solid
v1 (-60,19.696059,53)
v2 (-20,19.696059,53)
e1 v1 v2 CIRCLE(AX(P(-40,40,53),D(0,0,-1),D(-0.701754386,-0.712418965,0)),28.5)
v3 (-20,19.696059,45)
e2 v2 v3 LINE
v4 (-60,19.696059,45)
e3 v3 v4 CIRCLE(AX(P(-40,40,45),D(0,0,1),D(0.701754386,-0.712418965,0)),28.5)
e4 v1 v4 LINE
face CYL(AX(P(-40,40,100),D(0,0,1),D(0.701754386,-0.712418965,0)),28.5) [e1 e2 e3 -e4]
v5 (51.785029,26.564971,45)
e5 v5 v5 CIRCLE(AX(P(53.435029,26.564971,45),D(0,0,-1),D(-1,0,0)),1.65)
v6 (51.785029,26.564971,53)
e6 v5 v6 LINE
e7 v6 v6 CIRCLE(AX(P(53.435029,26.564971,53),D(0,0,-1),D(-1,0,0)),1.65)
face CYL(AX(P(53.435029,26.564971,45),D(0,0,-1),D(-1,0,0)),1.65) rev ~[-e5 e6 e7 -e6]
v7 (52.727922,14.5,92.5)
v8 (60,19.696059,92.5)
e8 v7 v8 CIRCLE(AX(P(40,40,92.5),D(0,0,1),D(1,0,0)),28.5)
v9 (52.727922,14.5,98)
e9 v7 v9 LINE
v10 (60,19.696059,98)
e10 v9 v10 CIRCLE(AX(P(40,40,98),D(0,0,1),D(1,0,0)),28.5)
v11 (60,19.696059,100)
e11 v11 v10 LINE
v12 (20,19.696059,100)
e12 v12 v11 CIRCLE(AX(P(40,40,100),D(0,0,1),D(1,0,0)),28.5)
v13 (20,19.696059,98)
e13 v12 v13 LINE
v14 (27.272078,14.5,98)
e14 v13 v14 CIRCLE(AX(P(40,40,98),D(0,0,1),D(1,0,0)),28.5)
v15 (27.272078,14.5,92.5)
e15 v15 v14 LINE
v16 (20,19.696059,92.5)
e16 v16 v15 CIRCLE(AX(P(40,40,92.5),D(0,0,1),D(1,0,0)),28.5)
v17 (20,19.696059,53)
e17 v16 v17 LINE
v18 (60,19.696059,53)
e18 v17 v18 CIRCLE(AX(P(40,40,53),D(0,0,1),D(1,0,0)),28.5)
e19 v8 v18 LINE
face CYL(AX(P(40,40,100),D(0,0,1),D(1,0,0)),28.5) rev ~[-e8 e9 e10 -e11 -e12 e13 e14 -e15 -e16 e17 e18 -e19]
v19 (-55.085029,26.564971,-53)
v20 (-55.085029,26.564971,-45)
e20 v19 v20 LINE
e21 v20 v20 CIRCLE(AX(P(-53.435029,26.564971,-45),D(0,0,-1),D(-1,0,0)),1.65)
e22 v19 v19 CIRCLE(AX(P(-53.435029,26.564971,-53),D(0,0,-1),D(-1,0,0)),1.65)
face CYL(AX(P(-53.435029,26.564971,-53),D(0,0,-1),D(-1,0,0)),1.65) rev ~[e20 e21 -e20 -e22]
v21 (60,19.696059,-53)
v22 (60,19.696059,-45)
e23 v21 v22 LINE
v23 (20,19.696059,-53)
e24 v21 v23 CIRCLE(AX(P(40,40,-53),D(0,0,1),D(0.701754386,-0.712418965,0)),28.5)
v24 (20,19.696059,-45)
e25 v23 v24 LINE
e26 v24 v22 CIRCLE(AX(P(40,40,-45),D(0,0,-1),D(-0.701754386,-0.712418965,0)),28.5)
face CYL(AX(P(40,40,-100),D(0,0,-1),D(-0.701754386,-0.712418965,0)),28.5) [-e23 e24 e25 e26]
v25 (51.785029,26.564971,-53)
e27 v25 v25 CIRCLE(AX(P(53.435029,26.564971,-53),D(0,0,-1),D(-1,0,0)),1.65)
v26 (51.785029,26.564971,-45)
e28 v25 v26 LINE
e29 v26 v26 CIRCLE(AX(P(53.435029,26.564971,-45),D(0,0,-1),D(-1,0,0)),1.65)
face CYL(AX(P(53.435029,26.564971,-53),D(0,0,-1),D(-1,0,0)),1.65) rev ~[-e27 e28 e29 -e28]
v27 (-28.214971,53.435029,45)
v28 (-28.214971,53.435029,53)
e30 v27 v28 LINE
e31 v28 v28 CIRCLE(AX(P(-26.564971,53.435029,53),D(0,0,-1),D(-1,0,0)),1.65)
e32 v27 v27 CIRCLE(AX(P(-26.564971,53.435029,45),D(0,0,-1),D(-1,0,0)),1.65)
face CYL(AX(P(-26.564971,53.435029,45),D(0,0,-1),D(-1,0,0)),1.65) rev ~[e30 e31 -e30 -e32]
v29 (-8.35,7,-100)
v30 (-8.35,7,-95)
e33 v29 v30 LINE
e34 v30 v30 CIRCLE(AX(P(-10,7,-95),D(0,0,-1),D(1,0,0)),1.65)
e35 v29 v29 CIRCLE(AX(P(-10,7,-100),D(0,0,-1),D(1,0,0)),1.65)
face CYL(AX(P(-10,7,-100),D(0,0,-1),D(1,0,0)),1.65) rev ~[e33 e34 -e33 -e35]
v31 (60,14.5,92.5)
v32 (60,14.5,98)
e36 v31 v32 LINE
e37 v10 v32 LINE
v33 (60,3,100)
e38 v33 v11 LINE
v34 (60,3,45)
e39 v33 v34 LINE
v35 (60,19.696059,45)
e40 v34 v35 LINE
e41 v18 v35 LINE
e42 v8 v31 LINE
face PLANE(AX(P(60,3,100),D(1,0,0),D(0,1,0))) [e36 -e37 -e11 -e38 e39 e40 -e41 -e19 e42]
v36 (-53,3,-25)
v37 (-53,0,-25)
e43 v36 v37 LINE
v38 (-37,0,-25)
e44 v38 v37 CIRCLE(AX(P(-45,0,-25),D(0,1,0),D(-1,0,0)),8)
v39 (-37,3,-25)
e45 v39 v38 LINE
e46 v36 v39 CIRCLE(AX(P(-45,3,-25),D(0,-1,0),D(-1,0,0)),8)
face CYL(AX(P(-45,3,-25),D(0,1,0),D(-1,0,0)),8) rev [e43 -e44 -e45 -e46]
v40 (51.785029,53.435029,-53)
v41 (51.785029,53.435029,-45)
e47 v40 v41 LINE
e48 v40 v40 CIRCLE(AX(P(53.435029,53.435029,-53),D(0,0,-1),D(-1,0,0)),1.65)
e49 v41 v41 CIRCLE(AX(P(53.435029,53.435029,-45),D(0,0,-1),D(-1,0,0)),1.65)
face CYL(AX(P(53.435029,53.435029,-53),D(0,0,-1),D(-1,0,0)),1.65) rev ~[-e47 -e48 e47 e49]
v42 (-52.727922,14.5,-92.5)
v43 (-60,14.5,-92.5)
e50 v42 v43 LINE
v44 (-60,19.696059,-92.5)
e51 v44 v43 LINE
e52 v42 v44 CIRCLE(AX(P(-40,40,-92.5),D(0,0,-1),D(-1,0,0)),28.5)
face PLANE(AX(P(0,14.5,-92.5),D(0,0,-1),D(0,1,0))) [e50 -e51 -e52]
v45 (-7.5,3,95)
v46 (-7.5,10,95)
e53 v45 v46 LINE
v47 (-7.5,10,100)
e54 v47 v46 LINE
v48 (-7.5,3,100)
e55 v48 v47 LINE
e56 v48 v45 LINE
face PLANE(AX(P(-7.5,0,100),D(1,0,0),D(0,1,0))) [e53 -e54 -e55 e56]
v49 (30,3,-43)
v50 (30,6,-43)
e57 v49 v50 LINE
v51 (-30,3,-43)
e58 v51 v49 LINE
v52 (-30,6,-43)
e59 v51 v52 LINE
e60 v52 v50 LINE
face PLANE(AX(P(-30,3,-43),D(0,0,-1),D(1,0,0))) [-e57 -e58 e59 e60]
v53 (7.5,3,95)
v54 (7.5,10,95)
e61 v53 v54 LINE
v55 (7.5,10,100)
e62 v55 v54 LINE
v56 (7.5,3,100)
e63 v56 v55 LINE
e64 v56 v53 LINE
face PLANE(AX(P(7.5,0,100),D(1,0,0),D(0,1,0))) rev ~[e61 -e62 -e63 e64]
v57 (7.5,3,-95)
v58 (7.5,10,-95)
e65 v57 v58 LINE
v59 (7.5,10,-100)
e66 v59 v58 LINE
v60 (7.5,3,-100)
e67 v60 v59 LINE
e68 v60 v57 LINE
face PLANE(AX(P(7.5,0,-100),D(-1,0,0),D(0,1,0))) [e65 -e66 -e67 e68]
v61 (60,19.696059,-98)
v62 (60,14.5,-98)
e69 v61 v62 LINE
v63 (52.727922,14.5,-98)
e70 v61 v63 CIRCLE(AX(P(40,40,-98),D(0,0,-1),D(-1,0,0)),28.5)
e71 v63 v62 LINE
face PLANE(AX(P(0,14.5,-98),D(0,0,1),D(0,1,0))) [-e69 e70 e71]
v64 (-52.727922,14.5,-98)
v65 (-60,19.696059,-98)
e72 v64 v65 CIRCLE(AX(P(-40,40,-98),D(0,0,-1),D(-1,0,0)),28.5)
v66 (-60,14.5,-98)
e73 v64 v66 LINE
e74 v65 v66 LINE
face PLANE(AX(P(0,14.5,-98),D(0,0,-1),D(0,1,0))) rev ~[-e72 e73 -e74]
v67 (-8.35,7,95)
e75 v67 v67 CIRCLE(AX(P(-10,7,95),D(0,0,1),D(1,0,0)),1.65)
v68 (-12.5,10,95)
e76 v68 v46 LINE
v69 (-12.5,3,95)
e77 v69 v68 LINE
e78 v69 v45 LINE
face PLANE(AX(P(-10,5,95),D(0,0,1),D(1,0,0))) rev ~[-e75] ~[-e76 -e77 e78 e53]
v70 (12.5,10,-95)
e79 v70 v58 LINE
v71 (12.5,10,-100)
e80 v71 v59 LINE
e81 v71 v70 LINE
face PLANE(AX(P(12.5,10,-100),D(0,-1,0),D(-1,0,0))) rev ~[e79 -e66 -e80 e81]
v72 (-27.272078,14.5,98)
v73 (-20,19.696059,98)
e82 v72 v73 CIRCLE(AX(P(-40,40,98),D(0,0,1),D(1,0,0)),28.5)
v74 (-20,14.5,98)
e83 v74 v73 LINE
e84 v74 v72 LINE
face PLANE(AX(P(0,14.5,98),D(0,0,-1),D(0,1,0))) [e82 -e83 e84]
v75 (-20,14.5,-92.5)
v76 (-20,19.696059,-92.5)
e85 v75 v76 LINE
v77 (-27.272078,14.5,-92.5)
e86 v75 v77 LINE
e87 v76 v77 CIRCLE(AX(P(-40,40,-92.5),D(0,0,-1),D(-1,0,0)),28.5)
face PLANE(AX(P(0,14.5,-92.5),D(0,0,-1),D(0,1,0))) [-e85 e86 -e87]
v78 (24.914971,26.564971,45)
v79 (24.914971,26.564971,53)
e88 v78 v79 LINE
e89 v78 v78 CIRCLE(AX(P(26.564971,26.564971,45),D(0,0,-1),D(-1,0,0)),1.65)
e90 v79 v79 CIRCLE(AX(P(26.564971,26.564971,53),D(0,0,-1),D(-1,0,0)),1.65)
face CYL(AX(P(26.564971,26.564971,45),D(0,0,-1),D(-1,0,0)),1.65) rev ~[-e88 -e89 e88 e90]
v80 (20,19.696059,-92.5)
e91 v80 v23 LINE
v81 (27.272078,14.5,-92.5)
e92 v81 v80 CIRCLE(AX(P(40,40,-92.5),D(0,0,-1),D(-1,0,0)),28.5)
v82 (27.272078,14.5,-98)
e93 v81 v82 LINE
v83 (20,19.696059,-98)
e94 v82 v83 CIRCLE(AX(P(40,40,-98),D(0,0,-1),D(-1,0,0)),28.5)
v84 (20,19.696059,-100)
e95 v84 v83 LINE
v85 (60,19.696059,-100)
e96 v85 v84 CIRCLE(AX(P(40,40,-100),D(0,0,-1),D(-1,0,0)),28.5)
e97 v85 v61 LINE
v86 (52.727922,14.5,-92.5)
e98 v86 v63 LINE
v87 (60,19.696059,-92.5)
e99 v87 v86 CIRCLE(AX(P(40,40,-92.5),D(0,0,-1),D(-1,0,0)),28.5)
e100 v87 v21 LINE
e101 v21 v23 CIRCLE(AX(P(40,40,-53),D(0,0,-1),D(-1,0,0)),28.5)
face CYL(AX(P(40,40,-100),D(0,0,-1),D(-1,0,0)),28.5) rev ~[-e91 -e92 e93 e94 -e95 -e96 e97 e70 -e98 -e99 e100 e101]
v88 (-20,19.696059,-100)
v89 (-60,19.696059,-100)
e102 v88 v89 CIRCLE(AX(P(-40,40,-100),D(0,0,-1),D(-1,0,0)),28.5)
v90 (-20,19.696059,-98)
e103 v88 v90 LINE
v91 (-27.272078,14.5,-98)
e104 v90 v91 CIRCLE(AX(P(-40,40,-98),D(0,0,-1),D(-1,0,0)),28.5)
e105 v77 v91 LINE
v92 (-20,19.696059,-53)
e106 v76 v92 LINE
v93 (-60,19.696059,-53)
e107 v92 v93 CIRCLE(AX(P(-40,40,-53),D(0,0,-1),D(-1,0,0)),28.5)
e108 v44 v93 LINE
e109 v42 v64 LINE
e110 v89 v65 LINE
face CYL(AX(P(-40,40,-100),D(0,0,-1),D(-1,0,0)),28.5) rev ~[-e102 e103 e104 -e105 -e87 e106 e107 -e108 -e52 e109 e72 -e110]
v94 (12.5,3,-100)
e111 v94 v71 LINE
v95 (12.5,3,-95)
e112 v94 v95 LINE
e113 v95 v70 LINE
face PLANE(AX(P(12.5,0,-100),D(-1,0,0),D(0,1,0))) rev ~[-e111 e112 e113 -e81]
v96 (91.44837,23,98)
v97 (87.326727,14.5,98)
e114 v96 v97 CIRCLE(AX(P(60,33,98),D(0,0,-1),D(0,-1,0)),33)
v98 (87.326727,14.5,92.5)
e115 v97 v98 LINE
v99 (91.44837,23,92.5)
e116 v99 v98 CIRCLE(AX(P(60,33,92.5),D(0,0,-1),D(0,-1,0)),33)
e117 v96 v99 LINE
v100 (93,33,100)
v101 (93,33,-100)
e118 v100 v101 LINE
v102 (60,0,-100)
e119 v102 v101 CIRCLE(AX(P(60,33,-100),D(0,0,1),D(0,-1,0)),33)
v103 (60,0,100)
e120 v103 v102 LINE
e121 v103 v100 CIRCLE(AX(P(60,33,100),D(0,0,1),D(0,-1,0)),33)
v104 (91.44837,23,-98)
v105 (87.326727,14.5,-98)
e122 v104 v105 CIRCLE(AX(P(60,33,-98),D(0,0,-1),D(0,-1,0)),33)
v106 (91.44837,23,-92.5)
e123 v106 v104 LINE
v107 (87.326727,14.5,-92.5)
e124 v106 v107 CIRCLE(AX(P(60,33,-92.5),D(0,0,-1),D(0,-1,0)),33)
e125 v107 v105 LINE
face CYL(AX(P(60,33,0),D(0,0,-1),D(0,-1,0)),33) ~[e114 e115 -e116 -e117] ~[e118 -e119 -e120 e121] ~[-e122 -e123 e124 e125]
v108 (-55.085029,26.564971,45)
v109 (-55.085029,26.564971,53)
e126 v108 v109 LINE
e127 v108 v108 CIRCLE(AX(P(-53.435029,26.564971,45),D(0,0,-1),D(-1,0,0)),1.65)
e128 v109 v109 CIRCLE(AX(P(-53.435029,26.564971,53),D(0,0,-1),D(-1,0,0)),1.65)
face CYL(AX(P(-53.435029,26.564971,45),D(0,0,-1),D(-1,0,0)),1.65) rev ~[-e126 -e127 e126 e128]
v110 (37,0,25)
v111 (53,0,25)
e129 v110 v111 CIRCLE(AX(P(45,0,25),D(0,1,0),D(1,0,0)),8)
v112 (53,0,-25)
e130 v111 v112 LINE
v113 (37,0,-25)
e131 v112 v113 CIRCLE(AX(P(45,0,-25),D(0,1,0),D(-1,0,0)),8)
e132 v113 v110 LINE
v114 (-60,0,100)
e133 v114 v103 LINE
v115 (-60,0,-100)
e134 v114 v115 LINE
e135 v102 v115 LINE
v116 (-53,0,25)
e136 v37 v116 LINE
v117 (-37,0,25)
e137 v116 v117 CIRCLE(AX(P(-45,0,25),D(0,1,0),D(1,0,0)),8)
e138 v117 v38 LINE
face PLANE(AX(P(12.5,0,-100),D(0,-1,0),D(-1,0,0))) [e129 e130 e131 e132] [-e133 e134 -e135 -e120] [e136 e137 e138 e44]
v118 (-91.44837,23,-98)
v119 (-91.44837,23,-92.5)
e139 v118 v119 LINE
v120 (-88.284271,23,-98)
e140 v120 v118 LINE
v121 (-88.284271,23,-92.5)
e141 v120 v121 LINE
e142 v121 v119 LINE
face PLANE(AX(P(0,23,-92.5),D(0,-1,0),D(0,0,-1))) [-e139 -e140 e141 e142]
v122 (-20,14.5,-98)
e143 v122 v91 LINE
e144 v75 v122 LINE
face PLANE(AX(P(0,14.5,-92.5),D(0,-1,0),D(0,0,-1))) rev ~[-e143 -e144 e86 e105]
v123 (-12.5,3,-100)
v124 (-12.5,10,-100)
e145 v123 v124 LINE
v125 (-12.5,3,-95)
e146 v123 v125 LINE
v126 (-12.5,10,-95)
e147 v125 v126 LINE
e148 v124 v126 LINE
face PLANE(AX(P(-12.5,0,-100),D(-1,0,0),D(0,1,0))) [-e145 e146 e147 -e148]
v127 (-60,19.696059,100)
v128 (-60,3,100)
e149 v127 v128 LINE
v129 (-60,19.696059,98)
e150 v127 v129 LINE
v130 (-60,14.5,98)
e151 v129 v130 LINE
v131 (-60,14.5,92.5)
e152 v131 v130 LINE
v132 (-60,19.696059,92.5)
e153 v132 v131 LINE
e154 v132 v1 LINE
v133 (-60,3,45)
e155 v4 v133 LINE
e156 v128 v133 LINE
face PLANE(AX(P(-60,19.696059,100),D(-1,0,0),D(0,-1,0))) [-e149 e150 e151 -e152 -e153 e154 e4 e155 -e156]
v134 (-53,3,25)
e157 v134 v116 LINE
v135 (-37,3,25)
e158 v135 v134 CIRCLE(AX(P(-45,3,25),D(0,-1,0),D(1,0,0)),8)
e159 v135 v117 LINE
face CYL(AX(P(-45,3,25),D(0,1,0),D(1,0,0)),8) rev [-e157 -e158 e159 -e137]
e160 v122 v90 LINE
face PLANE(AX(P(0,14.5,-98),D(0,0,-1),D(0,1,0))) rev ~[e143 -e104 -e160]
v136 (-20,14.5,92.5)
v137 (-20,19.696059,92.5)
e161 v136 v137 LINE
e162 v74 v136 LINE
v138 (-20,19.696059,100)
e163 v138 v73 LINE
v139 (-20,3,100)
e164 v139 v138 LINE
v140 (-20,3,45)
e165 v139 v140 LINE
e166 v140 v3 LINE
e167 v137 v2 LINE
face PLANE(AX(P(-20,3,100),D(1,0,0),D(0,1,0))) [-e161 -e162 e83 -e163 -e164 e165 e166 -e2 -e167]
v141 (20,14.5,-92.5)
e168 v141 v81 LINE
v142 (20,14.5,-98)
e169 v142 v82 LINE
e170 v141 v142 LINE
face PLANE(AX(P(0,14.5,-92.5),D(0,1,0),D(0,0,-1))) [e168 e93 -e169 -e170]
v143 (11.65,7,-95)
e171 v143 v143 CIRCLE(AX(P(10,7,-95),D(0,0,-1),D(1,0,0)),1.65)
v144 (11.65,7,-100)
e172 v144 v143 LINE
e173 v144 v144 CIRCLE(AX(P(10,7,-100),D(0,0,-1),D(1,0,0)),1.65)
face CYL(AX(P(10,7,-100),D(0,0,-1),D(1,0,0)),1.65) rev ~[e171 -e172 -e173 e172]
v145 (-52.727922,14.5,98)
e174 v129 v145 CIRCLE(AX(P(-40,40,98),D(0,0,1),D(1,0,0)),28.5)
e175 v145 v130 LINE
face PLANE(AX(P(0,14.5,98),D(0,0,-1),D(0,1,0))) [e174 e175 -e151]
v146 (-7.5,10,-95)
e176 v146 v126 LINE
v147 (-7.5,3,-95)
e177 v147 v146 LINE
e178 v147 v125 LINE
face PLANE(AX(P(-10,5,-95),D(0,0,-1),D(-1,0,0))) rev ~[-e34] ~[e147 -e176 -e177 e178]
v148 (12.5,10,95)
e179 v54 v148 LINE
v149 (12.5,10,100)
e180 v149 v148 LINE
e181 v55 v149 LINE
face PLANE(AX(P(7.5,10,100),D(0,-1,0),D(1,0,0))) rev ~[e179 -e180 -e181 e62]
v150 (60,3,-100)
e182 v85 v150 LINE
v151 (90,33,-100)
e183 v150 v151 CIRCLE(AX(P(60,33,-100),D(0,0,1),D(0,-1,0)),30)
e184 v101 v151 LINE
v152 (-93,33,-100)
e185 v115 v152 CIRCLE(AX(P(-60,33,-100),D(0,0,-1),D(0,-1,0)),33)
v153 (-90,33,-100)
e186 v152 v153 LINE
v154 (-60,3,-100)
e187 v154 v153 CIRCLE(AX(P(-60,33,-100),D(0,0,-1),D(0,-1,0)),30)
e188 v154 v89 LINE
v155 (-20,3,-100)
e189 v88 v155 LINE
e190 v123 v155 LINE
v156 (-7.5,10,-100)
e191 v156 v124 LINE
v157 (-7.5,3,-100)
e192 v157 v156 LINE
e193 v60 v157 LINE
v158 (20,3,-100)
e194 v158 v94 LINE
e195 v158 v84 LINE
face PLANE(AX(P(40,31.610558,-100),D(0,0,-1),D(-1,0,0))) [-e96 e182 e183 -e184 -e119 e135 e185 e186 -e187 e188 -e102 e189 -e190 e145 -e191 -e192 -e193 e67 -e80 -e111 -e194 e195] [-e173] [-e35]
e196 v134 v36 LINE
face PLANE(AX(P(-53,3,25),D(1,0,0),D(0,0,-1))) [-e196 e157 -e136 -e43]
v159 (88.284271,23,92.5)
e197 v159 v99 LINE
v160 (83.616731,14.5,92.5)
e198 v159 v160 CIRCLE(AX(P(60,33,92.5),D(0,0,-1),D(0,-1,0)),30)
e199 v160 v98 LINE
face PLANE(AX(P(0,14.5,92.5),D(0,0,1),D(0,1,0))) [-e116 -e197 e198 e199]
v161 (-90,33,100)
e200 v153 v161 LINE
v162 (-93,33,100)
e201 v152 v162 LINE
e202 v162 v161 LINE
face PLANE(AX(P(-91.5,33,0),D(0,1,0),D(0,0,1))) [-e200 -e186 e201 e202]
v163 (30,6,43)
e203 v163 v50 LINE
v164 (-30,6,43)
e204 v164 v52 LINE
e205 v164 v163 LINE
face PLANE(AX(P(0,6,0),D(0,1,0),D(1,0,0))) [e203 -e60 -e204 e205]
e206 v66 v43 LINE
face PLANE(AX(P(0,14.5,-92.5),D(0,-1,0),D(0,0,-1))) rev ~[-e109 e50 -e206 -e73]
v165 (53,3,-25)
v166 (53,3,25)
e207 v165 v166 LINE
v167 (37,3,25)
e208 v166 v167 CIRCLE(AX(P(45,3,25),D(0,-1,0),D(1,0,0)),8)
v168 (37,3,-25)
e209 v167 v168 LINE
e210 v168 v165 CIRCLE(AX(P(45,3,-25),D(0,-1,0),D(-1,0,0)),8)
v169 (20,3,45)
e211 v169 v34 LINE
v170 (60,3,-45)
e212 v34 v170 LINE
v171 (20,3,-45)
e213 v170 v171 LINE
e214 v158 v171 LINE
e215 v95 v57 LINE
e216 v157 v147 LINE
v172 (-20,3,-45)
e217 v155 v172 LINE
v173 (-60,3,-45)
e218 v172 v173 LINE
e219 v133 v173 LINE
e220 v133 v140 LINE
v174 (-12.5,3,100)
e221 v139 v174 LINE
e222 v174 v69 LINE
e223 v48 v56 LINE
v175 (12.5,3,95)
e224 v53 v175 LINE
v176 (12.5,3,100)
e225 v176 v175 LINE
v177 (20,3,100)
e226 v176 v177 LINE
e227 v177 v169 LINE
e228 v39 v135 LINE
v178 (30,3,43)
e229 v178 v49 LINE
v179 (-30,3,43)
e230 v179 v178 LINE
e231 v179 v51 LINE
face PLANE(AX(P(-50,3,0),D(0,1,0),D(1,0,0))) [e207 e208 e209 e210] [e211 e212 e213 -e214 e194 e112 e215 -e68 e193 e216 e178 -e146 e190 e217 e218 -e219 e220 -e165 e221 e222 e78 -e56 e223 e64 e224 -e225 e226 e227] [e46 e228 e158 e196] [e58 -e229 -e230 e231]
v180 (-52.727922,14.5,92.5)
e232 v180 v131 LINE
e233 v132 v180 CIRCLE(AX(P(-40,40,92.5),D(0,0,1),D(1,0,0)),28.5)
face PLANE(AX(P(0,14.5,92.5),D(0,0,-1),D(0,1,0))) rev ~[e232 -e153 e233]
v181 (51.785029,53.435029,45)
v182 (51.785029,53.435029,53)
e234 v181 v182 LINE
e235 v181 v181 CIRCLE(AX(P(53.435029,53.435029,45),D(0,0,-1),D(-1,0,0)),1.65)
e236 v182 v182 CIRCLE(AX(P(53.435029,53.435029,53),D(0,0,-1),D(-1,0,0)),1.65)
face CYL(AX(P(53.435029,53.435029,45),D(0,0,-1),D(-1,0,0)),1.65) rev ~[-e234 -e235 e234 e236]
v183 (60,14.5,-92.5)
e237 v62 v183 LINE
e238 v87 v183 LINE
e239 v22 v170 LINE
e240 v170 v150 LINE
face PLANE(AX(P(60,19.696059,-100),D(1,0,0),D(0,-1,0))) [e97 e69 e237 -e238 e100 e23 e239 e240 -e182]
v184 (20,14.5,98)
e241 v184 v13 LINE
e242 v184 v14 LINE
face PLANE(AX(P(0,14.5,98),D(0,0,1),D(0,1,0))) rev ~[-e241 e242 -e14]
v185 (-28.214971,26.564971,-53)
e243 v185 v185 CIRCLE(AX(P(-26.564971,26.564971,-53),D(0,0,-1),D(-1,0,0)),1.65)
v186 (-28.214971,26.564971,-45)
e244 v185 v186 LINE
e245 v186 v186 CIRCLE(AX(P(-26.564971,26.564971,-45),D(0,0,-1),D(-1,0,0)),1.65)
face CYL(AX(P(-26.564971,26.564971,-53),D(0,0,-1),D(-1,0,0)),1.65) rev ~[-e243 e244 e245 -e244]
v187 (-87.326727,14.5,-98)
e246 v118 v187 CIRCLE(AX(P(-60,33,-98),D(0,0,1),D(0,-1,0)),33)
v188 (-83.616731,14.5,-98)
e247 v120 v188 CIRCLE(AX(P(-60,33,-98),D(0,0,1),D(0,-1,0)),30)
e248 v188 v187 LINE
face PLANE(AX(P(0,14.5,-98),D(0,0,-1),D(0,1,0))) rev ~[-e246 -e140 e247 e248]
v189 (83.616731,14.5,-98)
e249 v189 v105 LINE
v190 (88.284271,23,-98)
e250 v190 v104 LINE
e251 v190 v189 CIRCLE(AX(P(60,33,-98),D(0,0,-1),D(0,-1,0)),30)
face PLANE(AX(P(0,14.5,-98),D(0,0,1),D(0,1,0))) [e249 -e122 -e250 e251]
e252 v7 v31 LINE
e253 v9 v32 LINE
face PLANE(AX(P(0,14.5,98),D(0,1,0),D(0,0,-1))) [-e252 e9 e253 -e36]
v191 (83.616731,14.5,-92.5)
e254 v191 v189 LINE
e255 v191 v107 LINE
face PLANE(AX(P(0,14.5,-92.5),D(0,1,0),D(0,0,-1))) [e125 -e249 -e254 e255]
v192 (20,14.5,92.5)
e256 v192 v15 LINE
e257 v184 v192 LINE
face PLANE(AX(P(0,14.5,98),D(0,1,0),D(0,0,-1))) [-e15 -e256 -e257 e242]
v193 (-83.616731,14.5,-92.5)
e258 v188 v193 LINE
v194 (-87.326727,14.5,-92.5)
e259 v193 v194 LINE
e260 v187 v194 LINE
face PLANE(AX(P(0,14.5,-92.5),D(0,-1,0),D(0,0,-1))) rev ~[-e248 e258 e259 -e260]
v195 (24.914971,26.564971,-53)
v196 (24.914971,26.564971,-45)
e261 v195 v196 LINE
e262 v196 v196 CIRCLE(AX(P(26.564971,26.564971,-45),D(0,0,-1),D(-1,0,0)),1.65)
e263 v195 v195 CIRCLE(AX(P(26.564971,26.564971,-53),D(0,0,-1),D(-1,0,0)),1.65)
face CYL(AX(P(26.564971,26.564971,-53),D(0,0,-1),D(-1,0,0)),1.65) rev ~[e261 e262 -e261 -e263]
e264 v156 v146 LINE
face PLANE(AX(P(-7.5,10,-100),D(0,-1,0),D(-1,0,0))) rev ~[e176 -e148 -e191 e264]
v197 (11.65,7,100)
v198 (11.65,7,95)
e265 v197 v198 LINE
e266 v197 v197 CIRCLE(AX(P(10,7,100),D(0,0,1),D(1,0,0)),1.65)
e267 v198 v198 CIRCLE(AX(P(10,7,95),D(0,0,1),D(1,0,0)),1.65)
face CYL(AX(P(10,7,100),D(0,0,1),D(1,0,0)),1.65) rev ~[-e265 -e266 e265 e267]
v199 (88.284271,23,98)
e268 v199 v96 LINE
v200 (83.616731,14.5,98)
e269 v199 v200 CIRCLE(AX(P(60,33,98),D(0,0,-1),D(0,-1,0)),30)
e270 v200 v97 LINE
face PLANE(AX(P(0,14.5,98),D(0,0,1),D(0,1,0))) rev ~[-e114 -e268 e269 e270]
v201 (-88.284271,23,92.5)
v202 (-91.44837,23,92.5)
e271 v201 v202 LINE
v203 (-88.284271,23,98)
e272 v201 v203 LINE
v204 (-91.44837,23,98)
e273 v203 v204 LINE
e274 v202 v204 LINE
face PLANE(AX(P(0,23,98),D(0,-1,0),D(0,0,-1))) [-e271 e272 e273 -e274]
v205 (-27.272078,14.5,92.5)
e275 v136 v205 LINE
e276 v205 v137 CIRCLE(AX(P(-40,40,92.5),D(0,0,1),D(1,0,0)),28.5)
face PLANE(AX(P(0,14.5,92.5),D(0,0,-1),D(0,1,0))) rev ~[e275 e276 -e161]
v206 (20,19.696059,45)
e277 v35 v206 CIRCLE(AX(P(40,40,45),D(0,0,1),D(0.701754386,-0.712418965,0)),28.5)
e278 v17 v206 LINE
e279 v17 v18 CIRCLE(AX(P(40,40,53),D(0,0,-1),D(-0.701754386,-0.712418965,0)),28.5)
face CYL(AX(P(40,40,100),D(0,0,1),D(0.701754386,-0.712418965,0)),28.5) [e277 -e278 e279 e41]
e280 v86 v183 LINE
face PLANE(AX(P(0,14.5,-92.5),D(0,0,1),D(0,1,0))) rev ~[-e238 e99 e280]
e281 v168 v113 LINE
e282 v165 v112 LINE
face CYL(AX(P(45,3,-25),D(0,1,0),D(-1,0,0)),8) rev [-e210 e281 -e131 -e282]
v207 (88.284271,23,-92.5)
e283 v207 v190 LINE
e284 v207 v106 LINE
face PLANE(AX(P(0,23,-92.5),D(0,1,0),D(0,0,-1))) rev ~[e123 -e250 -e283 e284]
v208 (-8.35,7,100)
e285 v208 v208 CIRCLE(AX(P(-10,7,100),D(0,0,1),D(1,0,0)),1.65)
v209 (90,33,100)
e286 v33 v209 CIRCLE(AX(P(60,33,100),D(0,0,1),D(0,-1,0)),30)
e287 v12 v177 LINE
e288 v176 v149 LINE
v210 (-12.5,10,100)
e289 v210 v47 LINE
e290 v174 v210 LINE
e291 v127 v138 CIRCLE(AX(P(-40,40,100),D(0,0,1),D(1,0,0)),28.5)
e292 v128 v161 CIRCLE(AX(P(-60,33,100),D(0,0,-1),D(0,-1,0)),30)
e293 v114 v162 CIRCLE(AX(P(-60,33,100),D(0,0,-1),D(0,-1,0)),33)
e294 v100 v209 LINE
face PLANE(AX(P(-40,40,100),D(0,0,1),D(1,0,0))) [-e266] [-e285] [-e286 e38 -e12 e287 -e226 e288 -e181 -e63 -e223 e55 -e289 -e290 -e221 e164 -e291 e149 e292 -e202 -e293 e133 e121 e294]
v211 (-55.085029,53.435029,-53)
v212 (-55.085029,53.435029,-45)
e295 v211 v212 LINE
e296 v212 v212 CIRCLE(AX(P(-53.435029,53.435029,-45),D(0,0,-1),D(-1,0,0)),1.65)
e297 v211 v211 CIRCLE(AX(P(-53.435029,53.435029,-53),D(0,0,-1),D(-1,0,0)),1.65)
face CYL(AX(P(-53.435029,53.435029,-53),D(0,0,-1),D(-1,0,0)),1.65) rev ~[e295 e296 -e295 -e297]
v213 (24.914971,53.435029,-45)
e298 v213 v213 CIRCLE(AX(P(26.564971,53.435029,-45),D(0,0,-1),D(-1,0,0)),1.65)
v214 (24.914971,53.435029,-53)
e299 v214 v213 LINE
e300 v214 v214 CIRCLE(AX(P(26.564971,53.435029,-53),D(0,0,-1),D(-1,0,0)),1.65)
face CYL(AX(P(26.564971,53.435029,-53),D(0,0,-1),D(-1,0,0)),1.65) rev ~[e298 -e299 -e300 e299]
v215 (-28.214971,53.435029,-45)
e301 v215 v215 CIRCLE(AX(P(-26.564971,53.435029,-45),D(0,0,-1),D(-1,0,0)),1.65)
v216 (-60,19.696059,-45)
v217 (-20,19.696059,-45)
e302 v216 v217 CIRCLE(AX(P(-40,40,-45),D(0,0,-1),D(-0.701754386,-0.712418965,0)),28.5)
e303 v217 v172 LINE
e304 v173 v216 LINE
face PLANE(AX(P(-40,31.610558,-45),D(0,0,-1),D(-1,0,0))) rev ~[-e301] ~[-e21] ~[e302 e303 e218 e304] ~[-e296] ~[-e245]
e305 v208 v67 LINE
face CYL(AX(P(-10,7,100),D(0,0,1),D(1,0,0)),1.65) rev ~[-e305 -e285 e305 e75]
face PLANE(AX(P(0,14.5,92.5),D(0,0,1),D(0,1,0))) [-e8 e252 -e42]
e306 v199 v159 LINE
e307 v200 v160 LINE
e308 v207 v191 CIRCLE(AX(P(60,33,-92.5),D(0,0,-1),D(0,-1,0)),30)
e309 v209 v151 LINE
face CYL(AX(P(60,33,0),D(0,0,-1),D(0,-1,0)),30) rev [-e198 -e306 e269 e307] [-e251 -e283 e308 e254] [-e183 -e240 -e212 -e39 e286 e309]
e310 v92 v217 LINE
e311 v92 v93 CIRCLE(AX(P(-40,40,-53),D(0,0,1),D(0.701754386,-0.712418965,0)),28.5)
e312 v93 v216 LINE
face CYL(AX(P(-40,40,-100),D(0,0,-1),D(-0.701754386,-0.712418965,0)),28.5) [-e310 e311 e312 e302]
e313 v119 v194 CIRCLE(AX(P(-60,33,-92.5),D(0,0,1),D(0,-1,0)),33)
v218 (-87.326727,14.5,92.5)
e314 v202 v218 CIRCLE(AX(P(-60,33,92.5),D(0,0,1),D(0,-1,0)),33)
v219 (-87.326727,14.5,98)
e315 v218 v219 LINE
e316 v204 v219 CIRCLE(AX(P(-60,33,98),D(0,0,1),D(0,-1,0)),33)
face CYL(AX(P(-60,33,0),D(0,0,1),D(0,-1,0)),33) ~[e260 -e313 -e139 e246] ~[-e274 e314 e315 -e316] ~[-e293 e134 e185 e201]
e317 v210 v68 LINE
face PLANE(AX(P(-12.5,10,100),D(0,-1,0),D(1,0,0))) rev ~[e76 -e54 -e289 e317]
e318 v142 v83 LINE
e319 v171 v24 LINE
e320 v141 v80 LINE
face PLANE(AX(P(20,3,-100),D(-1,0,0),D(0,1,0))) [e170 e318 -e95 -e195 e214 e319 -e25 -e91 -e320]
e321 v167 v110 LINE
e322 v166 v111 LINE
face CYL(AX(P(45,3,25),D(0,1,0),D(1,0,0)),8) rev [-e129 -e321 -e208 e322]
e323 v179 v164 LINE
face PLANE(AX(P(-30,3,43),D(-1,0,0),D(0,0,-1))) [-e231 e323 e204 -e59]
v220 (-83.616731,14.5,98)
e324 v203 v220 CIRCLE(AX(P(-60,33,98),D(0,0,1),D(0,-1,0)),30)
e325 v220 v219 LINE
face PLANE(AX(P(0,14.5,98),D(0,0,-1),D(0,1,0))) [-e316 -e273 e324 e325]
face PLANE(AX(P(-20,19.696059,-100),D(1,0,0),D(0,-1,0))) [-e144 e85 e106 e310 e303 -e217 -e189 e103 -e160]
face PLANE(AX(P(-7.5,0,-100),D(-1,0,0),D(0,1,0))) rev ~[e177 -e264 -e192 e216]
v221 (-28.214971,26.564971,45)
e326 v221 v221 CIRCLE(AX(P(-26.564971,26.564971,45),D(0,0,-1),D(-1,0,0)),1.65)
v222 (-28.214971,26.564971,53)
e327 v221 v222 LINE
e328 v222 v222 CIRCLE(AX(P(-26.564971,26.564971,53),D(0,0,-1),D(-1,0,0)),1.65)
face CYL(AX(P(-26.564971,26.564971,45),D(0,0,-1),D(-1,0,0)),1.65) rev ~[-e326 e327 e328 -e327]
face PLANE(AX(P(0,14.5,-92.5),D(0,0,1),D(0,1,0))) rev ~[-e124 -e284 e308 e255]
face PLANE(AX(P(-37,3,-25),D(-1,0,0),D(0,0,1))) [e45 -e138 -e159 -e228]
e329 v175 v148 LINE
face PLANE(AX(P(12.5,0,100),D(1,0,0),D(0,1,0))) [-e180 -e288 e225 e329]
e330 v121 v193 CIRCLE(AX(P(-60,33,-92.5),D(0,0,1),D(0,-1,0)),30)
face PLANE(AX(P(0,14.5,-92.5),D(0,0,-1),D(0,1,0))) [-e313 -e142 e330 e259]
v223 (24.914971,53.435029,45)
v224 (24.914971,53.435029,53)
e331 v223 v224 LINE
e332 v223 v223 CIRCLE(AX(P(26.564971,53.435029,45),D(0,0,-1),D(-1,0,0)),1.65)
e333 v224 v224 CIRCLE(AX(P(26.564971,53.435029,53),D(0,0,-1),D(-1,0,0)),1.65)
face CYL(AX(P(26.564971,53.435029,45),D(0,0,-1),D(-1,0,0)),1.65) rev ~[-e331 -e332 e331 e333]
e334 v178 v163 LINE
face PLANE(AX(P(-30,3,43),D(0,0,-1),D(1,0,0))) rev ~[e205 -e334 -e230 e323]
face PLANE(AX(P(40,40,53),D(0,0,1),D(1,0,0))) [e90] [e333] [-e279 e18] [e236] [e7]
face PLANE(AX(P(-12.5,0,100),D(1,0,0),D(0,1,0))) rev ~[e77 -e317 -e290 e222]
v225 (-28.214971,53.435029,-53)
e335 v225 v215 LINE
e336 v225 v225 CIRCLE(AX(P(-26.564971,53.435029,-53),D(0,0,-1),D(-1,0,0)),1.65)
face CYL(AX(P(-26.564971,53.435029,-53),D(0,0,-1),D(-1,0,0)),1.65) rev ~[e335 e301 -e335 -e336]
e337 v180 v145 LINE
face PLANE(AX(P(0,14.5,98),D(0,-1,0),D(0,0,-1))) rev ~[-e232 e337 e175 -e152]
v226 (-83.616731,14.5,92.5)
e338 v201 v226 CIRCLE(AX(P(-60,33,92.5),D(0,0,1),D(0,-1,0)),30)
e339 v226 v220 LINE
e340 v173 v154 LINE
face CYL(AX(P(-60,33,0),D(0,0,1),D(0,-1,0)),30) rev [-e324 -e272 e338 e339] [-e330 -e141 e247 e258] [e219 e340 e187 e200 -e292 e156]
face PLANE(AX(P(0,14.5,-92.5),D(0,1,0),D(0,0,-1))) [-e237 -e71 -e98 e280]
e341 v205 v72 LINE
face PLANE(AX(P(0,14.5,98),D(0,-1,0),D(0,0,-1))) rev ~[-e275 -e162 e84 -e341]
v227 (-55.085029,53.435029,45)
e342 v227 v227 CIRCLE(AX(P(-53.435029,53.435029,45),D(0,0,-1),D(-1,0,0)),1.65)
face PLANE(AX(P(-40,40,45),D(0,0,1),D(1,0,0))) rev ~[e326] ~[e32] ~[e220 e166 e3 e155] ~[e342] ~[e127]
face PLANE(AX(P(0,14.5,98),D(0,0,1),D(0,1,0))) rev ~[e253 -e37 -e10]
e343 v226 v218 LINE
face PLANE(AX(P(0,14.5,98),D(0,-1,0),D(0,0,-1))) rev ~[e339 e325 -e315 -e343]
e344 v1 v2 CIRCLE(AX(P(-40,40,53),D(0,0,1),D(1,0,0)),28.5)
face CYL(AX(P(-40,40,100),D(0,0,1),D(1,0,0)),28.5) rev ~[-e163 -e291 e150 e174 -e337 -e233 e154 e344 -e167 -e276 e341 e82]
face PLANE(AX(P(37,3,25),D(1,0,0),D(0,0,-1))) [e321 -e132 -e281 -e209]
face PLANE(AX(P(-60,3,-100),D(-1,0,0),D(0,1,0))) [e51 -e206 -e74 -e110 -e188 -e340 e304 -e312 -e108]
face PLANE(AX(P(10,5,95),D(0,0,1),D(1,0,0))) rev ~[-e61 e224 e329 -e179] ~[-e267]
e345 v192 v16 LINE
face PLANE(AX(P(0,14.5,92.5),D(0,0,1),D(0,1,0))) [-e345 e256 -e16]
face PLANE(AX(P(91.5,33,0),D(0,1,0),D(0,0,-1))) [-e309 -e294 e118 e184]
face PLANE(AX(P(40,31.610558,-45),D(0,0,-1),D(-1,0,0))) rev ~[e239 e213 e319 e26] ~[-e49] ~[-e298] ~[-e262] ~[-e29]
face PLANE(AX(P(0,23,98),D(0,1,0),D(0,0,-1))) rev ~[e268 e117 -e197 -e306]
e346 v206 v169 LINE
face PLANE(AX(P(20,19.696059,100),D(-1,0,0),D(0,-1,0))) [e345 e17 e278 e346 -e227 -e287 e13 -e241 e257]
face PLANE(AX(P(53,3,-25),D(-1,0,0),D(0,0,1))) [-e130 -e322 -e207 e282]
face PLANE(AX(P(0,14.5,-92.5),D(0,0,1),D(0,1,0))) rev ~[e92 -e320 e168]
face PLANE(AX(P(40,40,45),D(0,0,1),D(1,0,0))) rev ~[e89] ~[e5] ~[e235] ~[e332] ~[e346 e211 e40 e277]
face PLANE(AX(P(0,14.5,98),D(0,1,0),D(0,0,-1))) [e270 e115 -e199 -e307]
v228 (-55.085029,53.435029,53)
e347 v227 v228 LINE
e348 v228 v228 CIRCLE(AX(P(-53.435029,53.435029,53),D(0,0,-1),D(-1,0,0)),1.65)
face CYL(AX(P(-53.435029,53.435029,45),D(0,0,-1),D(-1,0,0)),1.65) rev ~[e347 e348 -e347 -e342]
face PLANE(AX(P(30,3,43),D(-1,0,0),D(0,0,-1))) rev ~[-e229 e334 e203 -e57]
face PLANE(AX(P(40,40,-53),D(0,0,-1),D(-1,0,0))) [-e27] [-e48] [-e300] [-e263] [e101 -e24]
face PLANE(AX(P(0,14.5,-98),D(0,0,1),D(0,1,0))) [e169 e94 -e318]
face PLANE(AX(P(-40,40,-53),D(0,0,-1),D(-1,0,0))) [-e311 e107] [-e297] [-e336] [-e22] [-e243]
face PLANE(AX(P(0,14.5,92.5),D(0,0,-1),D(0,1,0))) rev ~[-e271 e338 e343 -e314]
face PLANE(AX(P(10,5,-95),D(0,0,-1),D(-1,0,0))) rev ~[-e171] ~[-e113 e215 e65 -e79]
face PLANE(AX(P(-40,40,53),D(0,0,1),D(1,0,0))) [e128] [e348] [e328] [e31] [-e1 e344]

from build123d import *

# Parameters (mm, degrees)
SKETCH_1_W               = 120
SKETCH_1_H               = 200
EXTRUDE_1_DEPTH          = 3
SKETCH_3_W               = 200
SKETCH_3_H               = 3
REVOLVE_1_ANGLE          = 90
SKETCH_5_W               = 200
SKETCH_5_H               = 3
REVOLVE_2_ANGLE          = 90
EXTRUDE_4_DEPTH          = 55
SKETCH_7_6_R             = 28.5
CUT_EXTRUDE_1_DEPTH      = 47
SKETCH_9_R               = 1.65
CUT_EXTRUDE_2_DEPTH      = 47
SKETCH_10_R              = 1.65
CUT_EXTRUDE_3_DEPTH      = 47
EXTRUDE_START            = -55
EXTRUDE_5_DEPTH          = 55
CUT_EXTRUDE_START        = -47
SKETCH_11_3_R            = 28.5
CUT_EXTRUDE_4_DEPTH      = 47
SKETCH_14_R              = 1.65
CUT_EXTRUDE_5_DEPTH      = 47
SKETCH_15_W              = 60
SKETCH_15_H              = 86
EXTRUDE_6_DEPTH          = 3
SKETCH_17_W              = 5
SKETCH_17_H              = 10
SKETCH_17_R              = 1.65
EXTRUDE_7_DEPTH          = 5
EXTRUDE_START_2          = -5
SKETCH_18_W              = 5
SKETCH_18_H              = 10
SKETCH_18_R              = 1.65
EXTRUDE_8_DEPTH          = 5
CUT_EXTRUDE_6_DEPTH      = 11
CUT_EXTRUDE_7_DEPTH      = 108
CUT_EXTRUDE_7_DEPTH_BACK = 119
SKETCH_20_W              = 5.5
SKETCH_20_H              = 8.5


with BuildPart() as part:
    # 草图1 → 凸台-拉伸1 (new body)
    with BuildSketch(Plane(origin=(0, 0, 0), x_dir=(1, 0, 0), z_dir=(0, 1, 0))):
        Rectangle(SKETCH_1_W, SKETCH_1_H)
    extrude(amount=EXTRUDE_1_DEPTH)

    # 草图3 → 旋转1 (revolve)
    with BuildSketch(Plane(origin=(60, 0, 0), x_dir=(0, 0, -1), z_dir=(1, 0, 0))):
        with Locations((0, 1.5)):
            Rectangle(SKETCH_3_W, SKETCH_3_H)
    revolve(axis=Axis((60, 33, 100), (0, 0, 1)), revolution_arc=REVOLVE_1_ANGLE)

    # 草图5 → 旋转2 (revolve)
    with BuildSketch(Plane.ZY.offset(60)):
        with Locations((0, 1.5)):
            Rectangle(SKETCH_5_W, SKETCH_5_H)
    revolve(axis=Axis((-60, 33, -100), (0, 0, -1)), revolution_arc=REVOLVE_2_ANGLE)

    # 草图7 → 凸台-拉伸4 (add)
    with BuildSketch(Plane.XY.offset(100)):
        with BuildLine():
            Line((60, 3), (60, 19.696059496))
            ThreePointArc((60, 19.696059496), (40, 68.5), (20, 19.696059496))
            Line((20, 19.696059496), (20, 3))
            Line((20, 3), (60, 3))
        make_face()
        with BuildLine():
            ThreePointArc((-20, 19.696059496), (-40, 68.5), (-60, 19.696059496))
            Line((-60, 19.696059496), (-60, 3))
            Line((-60, 3), (-20, 3))
            Line((-20, 3), (-20, 19.696059496))
        make_face()
    extrude(amount=-EXTRUDE_4_DEPTH)

    # 草图7<6> → 切除-拉伸1 (cut)
    with BuildSketch(Plane.XY.offset(100)):
        with Locations((40, 40)):
            Circle(SKETCH_7_6_R)
        with Locations((-40, 40)):
            Circle(SKETCH_7_6_R)
    extrude(amount=-CUT_EXTRUDE_1_DEPTH, mode=Mode.SUBTRACT)

    # 草图9 → 切除-拉伸2 (cut)
    with BuildSketch(Plane(origin=(0, 0, 45), x_dir=(-1, 0, 0), z_dir=(0, 0, -1))):
        with Locations((-53.435028843, 53.435028843)):
            Circle(SKETCH_9_R)
        with Locations((-26.564971157, 53.435028843)):
            Circle(SKETCH_9_R)
        with Locations((-26.564971157, 26.564971157)):
            Circle(SKETCH_9_R)
        with Locations((-53.435028843, 26.564971157)):
            Circle(SKETCH_9_R)
    extrude(amount=-CUT_EXTRUDE_2_DEPTH, mode=Mode.SUBTRACT)

    # 草图10 → 切除-拉伸3 (cut)
    with BuildSketch(Plane(origin=(0, 0, 45), x_dir=(-1, 0, 0), z_dir=(0, 0, -1))):
        with Locations((26.564971157, 53.435028843)):
            Circle(SKETCH_10_R)
        with Locations((53.435028843, 53.435028843)):
            Circle(SKETCH_10_R)
        with Locations((53.435028843, 26.564971157)):
            Circle(SKETCH_10_R)
        with Locations((26.564971157, 26.564971157)):
            Circle(SKETCH_10_R)
    extrude(amount=-CUT_EXTRUDE_3_DEPTH, mode=Mode.SUBTRACT)

    # 草图11 → 凸台-拉伸5 (add)
    with BuildSketch(Plane(origin=(0, 0, -100), x_dir=(-1, 0, 0), z_dir=(0, 0, -1)).offset(EXTRUDE_START)):
        with BuildLine():
            Line((-20, 3), (-20, 19.696059496))
            ThreePointArc((-20, 19.696059496), (-40, 68.5), (-60, 19.696059496))
            Line((-60, 19.696059496), (-60, 3))
            Line((-60, 3), (-20, 3))
        make_face()
        with BuildLine():
            Line((20, 19.696059496), (20, 3))
            Line((20, 3), (60, 3))
            Line((60, 3), (60, 19.696059496))
            ThreePointArc((60, 19.696059496), (40, 68.5), (20, 19.696059496))
        make_face()
    extrude(amount=EXTRUDE_5_DEPTH)

    # 草图11<3> → 切除-拉伸4 (cut)
    with BuildSketch(Plane(origin=(0, 0, -100), x_dir=(-1, 0, 0), z_dir=(0, 0, -1)).offset(CUT_EXTRUDE_START)):
        with Locations((-40, 40)):
            Circle(SKETCH_11_3_R)
        with Locations((40, 40)):
            Circle(SKETCH_11_3_R)
    extrude(amount=CUT_EXTRUDE_4_DEPTH, mode=Mode.SUBTRACT)

    # 草图14 → 切除-拉伸5 (cut)
    with BuildSketch(Plane(origin=(0, 0, -53), x_dir=(-1, 0, 0), z_dir=(0, 0, -1))):
        with Locations((-26.564971157, 53.435028843)):
            Circle(SKETCH_14_R)
        with Locations((26.564971157, 53.435028843)):
            Circle(SKETCH_14_R)
        with Locations((-26.564971157, 26.564971157)):
            Circle(SKETCH_14_R)
        with Locations((-53.435028843, 26.564971157)):
            Circle(SKETCH_14_R)
        with Locations((-53.435028843, 53.435028843)):
            Circle(SKETCH_14_R)
        with Locations((53.435028843, 53.435028843)):
            Circle(SKETCH_14_R)
        with Locations((53.435028843, 26.564971157)):
            Circle(SKETCH_14_R)
        with Locations((26.564971157, 26.564971157)):
            Circle(SKETCH_14_R)
    extrude(amount=-CUT_EXTRUDE_5_DEPTH, mode=Mode.SUBTRACT)

    # 草图15 → 凸台-拉伸6 (add)
    with BuildSketch(Plane(origin=(0, 3, 0), x_dir=(1, 0, 0), z_dir=(0, 1, 0))):
        Rectangle(SKETCH_15_W, SKETCH_15_H)
    extrude(amount=EXTRUDE_6_DEPTH)

    # 草图17 → 凸台-拉伸7 (add)
    # profile 1 of 2: a face of its own
    with BuildSketch(Plane.XY.offset(100)):
        with Locations((-10, 5)):
            Rectangle(SKETCH_17_W, SKETCH_17_H)
        with Locations((-10, 7)):
            Circle(SKETCH_17_R, mode=Mode.SUBTRACT)
    # profile 2 of 2: a face of its own
    with BuildSketch(Plane.XY.offset(100)):
        with Locations((10, 5)):
            Rectangle(SKETCH_17_W, SKETCH_17_H)
        with Locations((10, 7)):
            Circle(SKETCH_17_R, mode=Mode.SUBTRACT)
    extrude(amount=-EXTRUDE_7_DEPTH)

    # 草图18 → 凸台-拉伸8 (add)
    # profile 1 of 2: a face of its own
    with BuildSketch(Plane(origin=(0, 0, -100), x_dir=(-1, 0, 0), z_dir=(0, 0, -1)).offset(EXTRUDE_START_2)):
        with Locations((-10, 5)):
            Rectangle(SKETCH_18_W, SKETCH_18_H)
        with Locations((-10, 7)):
            Circle(SKETCH_18_R, mode=Mode.SUBTRACT)
    # profile 2 of 2: a face of its own
    with BuildSketch(Plane(origin=(0, 0, -100), x_dir=(-1, 0, 0), z_dir=(0, 0, -1)).offset(EXTRUDE_START_2)):
        with Locations((10, 5)):
            Rectangle(SKETCH_18_W, SKETCH_18_H)
        with Locations((10, 7)):
            Circle(SKETCH_18_R, mode=Mode.SUBTRACT)
    extrude(amount=EXTRUDE_8_DEPTH)

    # 草图19 → 切除-拉伸6 (cut)
    with BuildSketch(Plane(origin=(0, 3, 0), x_dir=(1, 0, 0), z_dir=(0, 1, 0))):
        with BuildLine():
            Line((-53, -25), (-53, 25))
            ThreePointArc((-53, 25), (-45, 33), (-37, 25))
            Line((-37, 25), (-37, -25))
            ThreePointArc((-37, -25), (-45, -33), (-53, -25))
        make_face()
        with BuildLine():
            Line((37, -25), (37, 25))
            ThreePointArc((37, 25), (45, 33), (53, 25))
            Line((53, 25), (53, -25))
            ThreePointArc((53, -25), (45, -33), (37, -25))
        make_face()
    extrude(amount=-CUT_EXTRUDE_6_DEPTH, mode=Mode.SUBTRACT)

    # 草图20 → 切除-拉伸7 (cut, two sides: drawn at the far end of the back side and taken through both)
    with BuildSketch(Plane(origin=(0, 0, 0), x_dir=(0, 0, -1), z_dir=(1, 0, 0)).offset(-CUT_EXTRUDE_7_DEPTH_BACK)):
        with Locations((-95.25, 18.75)):
            Rectangle(SKETCH_20_W, SKETCH_20_H)
        with Locations((95.25, 18.75)):
            Rectangle(SKETCH_20_W, SKETCH_20_H)
    extrude(amount=CUT_EXTRUDE_7_DEPTH + CUT_EXTRUDE_7_DEPTH_BACK, mode=Mode.SUBTRACT)


solid = part.part
